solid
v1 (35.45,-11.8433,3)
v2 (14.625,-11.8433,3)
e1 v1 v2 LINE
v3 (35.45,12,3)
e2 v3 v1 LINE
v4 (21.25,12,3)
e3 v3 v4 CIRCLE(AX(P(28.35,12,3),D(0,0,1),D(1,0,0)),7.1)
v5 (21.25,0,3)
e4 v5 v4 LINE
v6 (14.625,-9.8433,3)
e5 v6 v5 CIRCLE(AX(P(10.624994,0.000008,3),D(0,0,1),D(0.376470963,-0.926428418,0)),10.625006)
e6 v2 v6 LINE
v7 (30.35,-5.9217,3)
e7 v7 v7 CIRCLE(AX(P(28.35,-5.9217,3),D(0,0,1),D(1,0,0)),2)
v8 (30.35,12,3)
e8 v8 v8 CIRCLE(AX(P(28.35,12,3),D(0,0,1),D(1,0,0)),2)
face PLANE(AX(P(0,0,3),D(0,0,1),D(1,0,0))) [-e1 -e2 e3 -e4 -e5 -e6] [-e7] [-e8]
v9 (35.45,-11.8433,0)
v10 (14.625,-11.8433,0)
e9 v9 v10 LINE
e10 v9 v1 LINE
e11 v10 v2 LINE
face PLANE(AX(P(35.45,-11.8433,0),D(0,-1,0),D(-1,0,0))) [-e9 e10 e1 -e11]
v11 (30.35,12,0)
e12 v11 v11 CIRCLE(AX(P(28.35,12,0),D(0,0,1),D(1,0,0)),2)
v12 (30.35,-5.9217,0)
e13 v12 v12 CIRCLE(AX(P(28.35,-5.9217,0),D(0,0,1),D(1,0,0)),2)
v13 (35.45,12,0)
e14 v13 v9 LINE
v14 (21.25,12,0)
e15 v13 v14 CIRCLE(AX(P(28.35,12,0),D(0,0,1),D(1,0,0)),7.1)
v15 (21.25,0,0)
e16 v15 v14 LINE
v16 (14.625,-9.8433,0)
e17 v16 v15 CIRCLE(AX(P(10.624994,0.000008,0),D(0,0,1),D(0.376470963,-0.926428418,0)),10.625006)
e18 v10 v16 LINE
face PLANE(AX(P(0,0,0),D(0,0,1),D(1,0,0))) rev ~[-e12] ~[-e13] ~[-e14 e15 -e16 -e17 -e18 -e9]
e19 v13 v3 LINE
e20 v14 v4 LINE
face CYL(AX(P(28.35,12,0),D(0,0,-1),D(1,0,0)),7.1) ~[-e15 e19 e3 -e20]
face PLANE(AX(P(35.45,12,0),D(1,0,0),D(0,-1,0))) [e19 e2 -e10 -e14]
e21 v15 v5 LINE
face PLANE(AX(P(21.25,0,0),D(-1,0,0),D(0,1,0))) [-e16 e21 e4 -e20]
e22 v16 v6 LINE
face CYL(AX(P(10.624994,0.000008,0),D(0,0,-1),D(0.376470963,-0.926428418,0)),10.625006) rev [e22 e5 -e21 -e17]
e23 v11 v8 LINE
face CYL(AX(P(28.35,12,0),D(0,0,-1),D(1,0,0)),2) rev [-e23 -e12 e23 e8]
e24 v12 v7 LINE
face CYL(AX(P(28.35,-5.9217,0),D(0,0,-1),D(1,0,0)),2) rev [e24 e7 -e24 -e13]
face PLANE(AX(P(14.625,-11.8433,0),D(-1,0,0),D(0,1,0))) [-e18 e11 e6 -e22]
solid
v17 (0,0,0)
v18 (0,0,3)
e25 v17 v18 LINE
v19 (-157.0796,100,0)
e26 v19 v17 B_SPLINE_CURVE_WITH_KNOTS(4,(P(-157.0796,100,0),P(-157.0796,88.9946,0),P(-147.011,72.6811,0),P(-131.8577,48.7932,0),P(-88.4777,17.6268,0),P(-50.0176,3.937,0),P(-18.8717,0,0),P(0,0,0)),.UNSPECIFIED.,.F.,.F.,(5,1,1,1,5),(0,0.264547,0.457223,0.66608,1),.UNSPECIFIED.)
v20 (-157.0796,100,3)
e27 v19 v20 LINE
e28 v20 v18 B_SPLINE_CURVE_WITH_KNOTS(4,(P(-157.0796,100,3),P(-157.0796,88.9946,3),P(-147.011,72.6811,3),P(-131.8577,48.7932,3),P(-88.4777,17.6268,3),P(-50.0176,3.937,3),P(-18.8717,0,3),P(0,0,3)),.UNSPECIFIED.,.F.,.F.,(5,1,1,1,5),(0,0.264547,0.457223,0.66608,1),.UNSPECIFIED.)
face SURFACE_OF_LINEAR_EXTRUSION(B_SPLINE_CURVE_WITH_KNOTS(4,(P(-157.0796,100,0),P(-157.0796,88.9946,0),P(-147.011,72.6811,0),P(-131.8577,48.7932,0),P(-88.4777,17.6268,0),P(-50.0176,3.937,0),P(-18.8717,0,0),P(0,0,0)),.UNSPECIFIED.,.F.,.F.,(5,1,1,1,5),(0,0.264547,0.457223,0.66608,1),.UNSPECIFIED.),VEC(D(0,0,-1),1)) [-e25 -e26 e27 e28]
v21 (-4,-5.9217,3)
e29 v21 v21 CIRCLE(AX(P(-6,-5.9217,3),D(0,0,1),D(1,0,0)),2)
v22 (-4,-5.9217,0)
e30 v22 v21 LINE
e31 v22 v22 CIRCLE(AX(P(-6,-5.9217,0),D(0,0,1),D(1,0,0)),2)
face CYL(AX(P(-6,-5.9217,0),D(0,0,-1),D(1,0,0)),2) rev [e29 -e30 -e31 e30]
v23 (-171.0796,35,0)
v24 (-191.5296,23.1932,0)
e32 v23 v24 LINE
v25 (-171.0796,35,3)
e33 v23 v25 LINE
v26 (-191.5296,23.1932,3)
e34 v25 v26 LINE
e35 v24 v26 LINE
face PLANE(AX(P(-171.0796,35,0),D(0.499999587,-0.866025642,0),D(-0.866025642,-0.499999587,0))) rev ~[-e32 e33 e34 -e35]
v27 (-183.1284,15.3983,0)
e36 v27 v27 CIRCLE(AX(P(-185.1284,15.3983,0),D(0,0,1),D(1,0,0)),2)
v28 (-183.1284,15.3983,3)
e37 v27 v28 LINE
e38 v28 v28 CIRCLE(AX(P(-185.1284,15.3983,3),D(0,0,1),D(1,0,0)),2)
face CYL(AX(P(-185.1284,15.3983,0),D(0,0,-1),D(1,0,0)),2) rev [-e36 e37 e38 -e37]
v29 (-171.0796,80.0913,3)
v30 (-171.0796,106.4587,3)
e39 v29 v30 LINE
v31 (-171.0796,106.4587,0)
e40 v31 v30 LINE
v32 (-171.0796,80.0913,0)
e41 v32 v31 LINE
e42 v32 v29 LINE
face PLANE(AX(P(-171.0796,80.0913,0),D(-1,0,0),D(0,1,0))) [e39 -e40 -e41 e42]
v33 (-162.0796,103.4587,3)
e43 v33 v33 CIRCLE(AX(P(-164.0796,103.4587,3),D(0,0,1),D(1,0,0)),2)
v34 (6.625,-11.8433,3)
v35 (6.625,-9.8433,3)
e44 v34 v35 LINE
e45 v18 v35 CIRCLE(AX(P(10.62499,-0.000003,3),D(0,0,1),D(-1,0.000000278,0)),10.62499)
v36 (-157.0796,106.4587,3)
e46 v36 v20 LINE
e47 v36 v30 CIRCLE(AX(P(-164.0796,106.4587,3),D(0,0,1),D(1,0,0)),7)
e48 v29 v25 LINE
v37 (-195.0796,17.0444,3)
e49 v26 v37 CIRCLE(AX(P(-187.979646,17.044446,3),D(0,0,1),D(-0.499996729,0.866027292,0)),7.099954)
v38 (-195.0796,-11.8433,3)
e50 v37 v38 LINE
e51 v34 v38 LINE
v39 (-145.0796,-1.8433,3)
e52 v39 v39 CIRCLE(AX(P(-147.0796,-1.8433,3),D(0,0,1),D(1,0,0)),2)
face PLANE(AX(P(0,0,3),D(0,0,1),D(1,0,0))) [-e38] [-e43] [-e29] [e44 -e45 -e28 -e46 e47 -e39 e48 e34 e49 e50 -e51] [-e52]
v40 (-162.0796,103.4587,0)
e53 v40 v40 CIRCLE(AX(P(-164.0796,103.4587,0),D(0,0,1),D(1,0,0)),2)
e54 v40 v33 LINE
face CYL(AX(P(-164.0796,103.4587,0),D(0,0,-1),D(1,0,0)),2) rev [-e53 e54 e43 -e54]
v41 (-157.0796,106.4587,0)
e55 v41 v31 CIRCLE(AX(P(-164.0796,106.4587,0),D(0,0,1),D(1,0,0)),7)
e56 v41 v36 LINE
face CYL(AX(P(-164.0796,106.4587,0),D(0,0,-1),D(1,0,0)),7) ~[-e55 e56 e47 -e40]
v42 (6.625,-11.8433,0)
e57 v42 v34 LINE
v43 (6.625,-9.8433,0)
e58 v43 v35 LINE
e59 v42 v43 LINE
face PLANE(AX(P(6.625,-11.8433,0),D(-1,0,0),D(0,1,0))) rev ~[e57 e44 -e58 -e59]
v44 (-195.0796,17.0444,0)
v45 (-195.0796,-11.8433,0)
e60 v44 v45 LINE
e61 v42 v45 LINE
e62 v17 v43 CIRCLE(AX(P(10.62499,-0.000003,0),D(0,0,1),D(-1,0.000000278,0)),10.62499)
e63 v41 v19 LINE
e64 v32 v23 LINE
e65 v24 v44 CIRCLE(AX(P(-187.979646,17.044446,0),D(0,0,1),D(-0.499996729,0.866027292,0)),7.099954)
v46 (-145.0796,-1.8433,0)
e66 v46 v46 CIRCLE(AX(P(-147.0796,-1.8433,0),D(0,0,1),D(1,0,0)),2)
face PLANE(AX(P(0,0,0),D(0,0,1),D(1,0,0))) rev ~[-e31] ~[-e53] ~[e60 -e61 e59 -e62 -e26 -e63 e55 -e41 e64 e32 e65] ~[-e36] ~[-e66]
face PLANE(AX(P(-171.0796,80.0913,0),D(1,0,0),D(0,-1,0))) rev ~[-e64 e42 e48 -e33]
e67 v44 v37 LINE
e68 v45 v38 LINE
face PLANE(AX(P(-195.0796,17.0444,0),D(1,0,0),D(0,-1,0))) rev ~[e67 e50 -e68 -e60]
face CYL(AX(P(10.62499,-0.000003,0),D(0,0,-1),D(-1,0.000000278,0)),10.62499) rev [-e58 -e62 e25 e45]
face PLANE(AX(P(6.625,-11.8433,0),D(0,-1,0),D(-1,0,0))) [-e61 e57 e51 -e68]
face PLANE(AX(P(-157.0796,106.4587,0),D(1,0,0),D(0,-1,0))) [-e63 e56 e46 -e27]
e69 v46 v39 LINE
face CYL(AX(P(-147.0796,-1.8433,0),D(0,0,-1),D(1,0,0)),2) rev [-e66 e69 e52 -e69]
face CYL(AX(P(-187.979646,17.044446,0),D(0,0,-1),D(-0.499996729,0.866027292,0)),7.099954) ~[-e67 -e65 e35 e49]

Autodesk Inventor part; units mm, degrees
ref_plane "YZ Plane" through (0, 0, 0) normal (1, 0, 0) x (0, 1, 0)
ref_plane "XZ Plane" through (0, 0, 0) normal (0, 1, 0) x (-1, 0, 0)
ref_plane "XY Plane" through (0, 0, 0) normal (0, 0, 1) x (1, 0, 0)
sketch "Sketch3" plane through (0, 0, 0) normal (0, 0, 1) x (1, 0, 0)
  circle A0 centre (367.816, 50) radius 50 construction
  line L0 (367.816, 0) -> (512.7041, 0) construction
  line L1 (367.816, 50) -> (512.7041, 50) construction
  line L2 (367.816, 100) -> (512.7041, 100) construction
  line L3 (367.816, 50) -> (342.816, 6.6987) construction
  line L4 (367.816, 50) -> (324.5147, 25) construction
  line L5 (367.816, 50) -> (324.5147, 75) construction
  line L6 (342.816, 93.3013) -> (367.816, 50) construction
  line L7 (392.816, 93.3013) -> (367.816, 50) construction
  line L8 (411.1173, 75) -> (367.816, 50) construction
  line L9 (411.1173, 25) -> (367.816, 50) construction
  line L10 (392.816, 6.6987) -> (367.816, 50) construction
  line L11 (367.816, 0) -> (367.816, 100) construction
  line L12 (417.816, 50) -> (367.816, 50) construction
  line L13 (341.6361, 0) -> (341.6361, 100) construction
  line L14 (315.4561, 0) -> (315.4561, 100) construction
  line L15 (289.2762, 0) -> (289.2762, 100) construction
  line L16 (263.0963, 0) -> (263.0963, 100) construction
  line L17 (236.9163, 0) -> (236.9163, 100) construction
  line L18 (210.7364, 0) -> (210.7364, 100) construction
  line L19 (184.5564, 0) -> (184.5564, 100) construction
  line L20 (158.3765, 0) -> (158.3765, 100) construction
  circle A1 centre (315.4561, 50) radius 50 construction
  circle A2 centre (341.6361, 50) radius 50 construction
  circle A3 centre (289.2762, 50) radius 50 construction
  circle A4 centre (263.0963, 50) radius 50 construction
  circle A5 centre (236.9163, 50) radius 50 construction
  circle A6 centre (210.7364, 50) radius 50 construction
  line L21 (392.816, 6.6987) -> (512.7041, 6.6987) construction
  line L22 (411.1173, 25) -> (512.7041, 25) construction
  line L23 (411.1173, 75) -> (512.7041, 75) construction
  line L24 (411.1173, 75) -> (512.7041, 75) construction
  line L25 (392.816, 93.3013) -> (512.7041, 93.3013) construction
  line L26 (358.7574, 75) -> (339.2762, 50) construction
  line L27 (339.2762, 50) -> (306.3975, 25) construction
  line L28 (306.3975, 25) -> (261.9163, 6.6987) construction
  line L29 (261.9163, 6.6987) -> (210.7364, 0) construction
  line L30 (105.3682, -12.9392) -> (105.3682, 124.4333) construction
  line L31 (21.25, 0) -> (21.25, 12)
  line L32 (35.45, 12) -> (35.45, -11.8433)
  arc A7 (0, 0) -> (6.625, -9.8433) centre (10.625, 0) ccw
  arc A8 (14.625, -9.8433) -> (21.25, 0) centre (10.625, 0) ccw
  line L33 (35.45, -11.8433) -> (14.625, -11.8433)
  line L34 (6.625, -11.8433) -> (-195.0796, -11.8433)
  circle A9 centre (-144.26, 100.8473) radius 12.875 construction
  line L35 (6.625, -11.8433) -> (6.625, -9.8433)
  line L36 (14.625, -11.8433) -> (14.625, -9.8433)
  line L37 (411.1173, 75) -> (158.3765, 75) construction
  line L38 (367.816, 100) -> (158.3765, 100) construction
  line L39 (417.816, 50) -> (158.3765, 50) construction
  line L40 (411.1173, 25) -> (158.3765, 25) construction
  line L41 (392.816, 6.6987) -> (158.3765, 6.6987) construction
  line L42 (392.816, 93.3013) -> (158.3765, 93.3013) construction
  line L43 (358.7574, 75) -> (366.6361, 93.3013) construction
  line L44 (366.6361, 93.3013) -> (367.816, 100) construction
  spline S0 degree 4 poles (-157.0796, 100) (-157.0796, 88.9946) (-147.011, 72.6811) (-131.8577, 48.7932) (-88.4777, 17.6268) (-50.0176, 3.937) (-18.8717, 0) (0, 0) knots 0 0 0 0 0 0.264547 0.457223 0.66608 1 1 1 1 1
  line L45 (-157.0796, 100) -> (-157.0796, 38) construction
  line L46 (0, 0) -> (-157.0796, 0) construction
  line L47 (-144.26, 100.8473) -> (-157.135, 100.8473) construction
  circle A10 centre (-146.4546, 100) radius 10.625 construction
  line L48 (-146.4546, 100) -> (-157.0796, 100) construction
  line L49 (-141.0754, 84.4005) -> (-135.6205, 93.5183) construction
  line L50 (-141.0796, 132.0528) -> (-171.0796, 149.3733) construction
  line L51 (-171.0796, 149.3733) -> (-201.0796, 132.0528) construction
  line L52 (-141.0754, 84.4005) -> (-99.2801, 84.4005) construction
  line L53 (-201.0796, 132.0528) -> (-201.0796, 97.4118) construction
  line L54 (-201.0796, 97.4118) -> (-171.0796, 80.0913) construction
  line L55 (0, 0) -> (-157.0796, 93.9753) construction
  line L56 (-135.6205, 93.5183) -> (-137.3368, 94.5451) construction
  line L57 (-137.3368, 94.5451) -> (-143.2815, 84.6085) construction
  line L58 (-137.3368, 94.5451) -> (-171.0796, 114.7323) construction
  line L59 (-201.0796, 132.0528) -> (-171.0796, 114.7323) construction
  arc A11 (-137.3368, 94.5451) -> (-144.7045, 143.8948) centre (-171.0796, 114.7323) ccw construction
  arc A12 (-142.7917, 85.4273) -> (-147.1443, 147.6882) centre (-171.0796, 114.7323) ccw construction
  line L60 (-171.0796, 80.0913) -> (-171.0796, 35)
  circle A13 centre (-171.0796, 114.7323) radius 2.5 construction
  arc A14 (-167.4345, 120.8251) -> (-174.7248, 108.6394) centre (-171.0796, 114.7323) ccw construction
  line L61 (-167.4345, 120.8251) -> (-157.0796, 114.6302) construction
  line L62 (-171.0796, 80.0913) -> (-171.0796, 106.4587)
  line L63 (-171.0796, 106.4587) -> (-174.7248, 108.6394) construction
  line L64 (-171.0796, 35) -> (-191.5296, 23.1932)
  arc A15 (-191.5296, 23.1932) -> (-195.0796, 17.0444) centre (-187.9796, 17.0444) ccw
  line L65 (-195.0796, 17.0444) -> (-195.0796, -11.8433)
  arc A16 (35.45, 12) -> (21.25, 12) centre (28.35, 12) ccw
  line L66 (-157.0796, 114.6302) -> (-157.0796, 99.9865) construction
  circle A17 centre (-164.0796, 103.4587) radius 2
  line L67 (-171.0796, 103.4587) -> (-157.0796, 103.4587) construction
  circle A18 centre (-185.1284, 15.3983) radius 2
  line L68 (-185.1284, 15.3983) -> (-194.1284, 20.5944) construction
  circle A19 centre (-6, -5.9217) radius 2
  line L69 (-6, -11.8433) -> (-6, 0) construction
  circle A20 centre (28.35, 12) radius 2
  circle A21 centre (28.35, -5.9217) radius 2
  line L70 (-167.4345, 320.8251) -> (-157.0796, 314.6302) construction
  arc A22 (-167.4345, 320.8251) -> (-174.7248, 308.6394) centre (-171.0796, 314.7323) ccw construction
  circle A23 centre (-171.0796, 314.7323) radius 2.5 construction
  line L71 (-171.0796, 280.0913) -> (-171.0796, 306.4587)
  line L72 (-171.0796, 306.4587) -> (-174.7248, 308.6394) construction
  line L73 (-157.0796, 314.6302) -> (-157.0796, 299.9865) construction
  circle A24 centre (-164.0796, 303.4587) radius 2
  spline S1 degree 4 poles (-157.0796, 300) (-157.0796, 288.9946) (-147.0234, 272.6841) (-124.1789, 236.7977) (-70.8039, 208.0704) (-31.8865, 200.2943) (0, 200) knots 0 0 0 0 0 0.264547 0.457223 1 1 1 1 1 construction
  line L74 (-157.0796, 300) -> (-157.0796, 238) construction
  arc A25 (0, 200) -> (6.625, 190.1567) centre (10.625, 200) ccw
  line L75 (35.45, 212) -> (35.45, 188.1567)
  circle A26 centre (28.35, 212) radius 2
  circle A27 centre (28.35, 194.0783) radius 2
  arc A28 (35.45, 212) -> (21.25, 212) centre (28.35, 212) ccw
  line L76 (21.25, 200) -> (21.25, 212)
  line L77 (35.45, 188.1567) -> (14.625, 188.1567)
  arc A29 (14.625, 190.1567) -> (21.25, 200) centre (10.625, 200) ccw
  line L78 (14.625, 188.1567) -> (14.625, 190.1567)
  line L79 (-185.1284, 215.3983) -> (-194.1284, 220.5944) construction
  arc A30 (-191.5296, 223.1932) -> (-195.0796, 217.0444) centre (-187.9796, 217.0444) ccw
  line L80 (-195.0796, 217.0444) -> (-195.0796, 188.1567)
  line L81 (-171.0796, 235) -> (-191.5296, 223.1932)
  circle A31 centre (-185.1284, 215.3983) radius 2
  line L82 (-171.0796, 280.0913) -> (-171.0796, 235)
  line L83 (6.625, 188.1567) -> (-195.0796, 188.1567)
  line L84 (6.625, 188.1567) -> (6.625, 190.1567)
  line L85 (-137.3368, 294.5451) -> (-143.2815, 284.6085) construction
  line L86 (-141.0754, 284.4005) -> (-135.6205, 293.5183) construction
  line L87 (0, 200) -> (-157.0796, 293.9753)
  line L88 (-167.4345, 520.8251) -> (-157.0796, 514.6302) construction
  arc A32 (-167.4345, 520.8251) -> (-174.7248, 508.6394) centre (-171.0796, 514.7323) ccw construction
  circle A33 centre (-171.0796, 514.7323) radius 2.5 construction
  line L89 (-171.0796, 480.0913) -> (-171.0796, 506.4587)
  line L90 (-171.0796, 506.4587) -> (-174.7248, 508.6394) construction
  line L91 (-157.0796, 514.6302) -> (-157.0796, 499.9865) construction
  circle A34 centre (-164.0796, 503.4587) radius 2
  spline S2 degree 4 poles (-157.0796, 500) (-157.0796, 488.9946) (-147.0234, 472.6841) (-124.1789, 436.7977) (-70.8039, 408.0704) (-31.8865, 400.2943) (0, 400) knots 0 0 0 0 0 0.264547 0.457223 1 1 1 1 1 construction
  line L92 (-157.0796, 500) -> (-157.0796, 438)
  arc A35 (0, 400) -> (6.625, 390.1567) centre (10.625, 400) ccw
  line L93 (35.45, 412) -> (35.45, 388.1567)
  circle A36 centre (28.35, 412) radius 2
  circle A37 centre (28.35, 394.0783) radius 2
  arc A38 (35.45, 412) -> (21.25, 412) centre (28.35, 412) ccw
  line L94 (21.25, 400) -> (21.25, 412)
  line L95 (35.45, 388.1567) -> (14.625, 388.1567)
  arc A39 (14.625, 390.1567) -> (21.25, 400) centre (10.625, 400) ccw
  line L96 (14.625, 388.1567) -> (14.625, 390.1567)
  line L97 (-185.1284, 415.3983) -> (-194.1284, 420.5944) construction
  arc A40 (-191.5296, 423.1932) -> (-195.0796, 417.0444) centre (-187.9796, 417.0444) ccw
  line L98 (-195.0796, 417.0444) -> (-195.0796, 388.1567)
  line L99 (-171.0796, 435) -> (-191.5296, 423.1932)
  circle A41 centre (-185.1284, 415.3983) radius 2
  line L100 (-171.0796, 480.0913) -> (-171.0796, 435)
  line L101 (6.625, 388.1567) -> (-195.0796, 388.1567)
  line L102 (6.625, 388.1567) -> (6.625, 390.1567)
  line L103 (-137.3368, 494.5451) -> (-143.2815, 484.6085) construction
  line L104 (-141.0754, 484.4005) -> (-135.6205, 493.5183) construction
  line L105 (0, 400) -> (-157.0796, 493.9753) construction
  line L106 (-467.4345, 120.8251) -> (-457.0796, 114.6302) construction
  arc A42 (-467.4345, 120.8251) -> (-474.7248, 108.6394) centre (-471.0796, 114.7323) ccw construction
  circle A43 centre (-471.0796, 114.7323) radius 2.5 construction
  line L107 (-471.0796, 80.0913) -> (-471.0796, 106.4587)
  line L108 (-471.0796, 106.4587) -> (-474.7248, 108.6394) construction
  line L109 (-457.0796, 114.6302) -> (-457.0796, 99.9865) construction
  circle A44 centre (-464.0796, 103.4587) radius 2
  spline S3 degree 4 poles (-457.0796, 100) (-457.0796, 88.9946) (-447.0234, 72.6841) (-424.1789, 36.7977) (-370.8039, 8.0704) (-331.8865, 0.2943) (-300, 0) knots 0 0 0 0 0 0.264547 0.457223 1 1 1 1 1 construction
  line L110 (-457.0796, 100) -> (-457.0796, 38) construction
  arc A45 (-300, 0) -> (-293.375, -9.8433) centre (-289.375, 0) ccw construction
  line L111 (-264.55, 12) -> (-264.55, -11.8433)
  circle A46 centre (-271.65, 12) radius 2
  circle A47 centre (-271.65, -5.9217) radius 2
  arc A48 (-264.55, 12) -> (-278.75, 12) centre (-271.65, 12) ccw
  line L112 (-278.75, 0) -> (-278.75, 12) construction
  line L113 (-264.55, -11.8433) -> (-285.375, -11.8433)
  arc A49 (-285.375, -9.8433) -> (-278.75, 0) centre (-289.375, 0) ccw construction
  line L114 (-285.375, -11.8433) -> (-285.375, -9.8433) construction
  line L115 (-485.1284, 15.3983) -> (-494.1284, 20.5944) construction
  arc A50 (-491.5296, 23.1932) -> (-495.0796, 17.0444) centre (-487.9796, 17.0444) ccw
  line L116 (-495.0796, 17.0444) -> (-495.0796, -11.8433)
  line L117 (-471.0796, 35) -> (-491.5296, 23.1932)
  circle A51 centre (-485.1284, 15.3983) radius 2
  line L118 (-471.0796, 80.0913) -> (-471.0796, 35)
  line L119 (-293.375, -11.8433) -> (-495.0796, -11.8433)
  line L120 (-293.375, -11.8433) -> (-293.375, -9.8433) construction
  line L121 (-437.3368, 94.5451) -> (-443.2815, 84.6085) construction
  line L122 (-441.0754, 84.4005) -> (-435.6205, 93.5183) construction
  line L123 (-300, 0) -> (-457.0796, 93.9753) construction
  line L124 (-467.4345, 320.8251) -> (-457.0796, 314.6302) construction
  arc A52 (-467.4345, 320.8251) -> (-474.7248, 308.6394) centre (-471.0796, 314.7323) ccw construction
  circle A53 centre (-471.0796, 314.7323) radius 2.5 construction
  line L125 (-471.0796, 280.0913) -> (-471.0796, 306.4587)
  line L126 (-471.0796, 306.4587) -> (-474.7248, 308.6394) construction
  line L127 (-457.0796, 314.6302) -> (-457.0796, 299.9865) construction
  circle A54 centre (-464.0796, 303.4587) radius 2
  spline S4 degree 4 poles (-457.0796, 300) (-457.0796, 288.9946) (-447.0234, 272.6841) (-424.1789, 236.7977) (-370.8039, 208.0704) (-331.8865, 200.2943) (-300, 200) knots 0 0 0 0 0 0.264547 0.457223 1 1 1 1 1 construction
  line L128 (-457.0796, 300) -> (-457.0796, 238) construction
  arc A55 (-300, 200) -> (-293.375, 190.1567) centre (-289.375, 200) ccw construction
  line L129 (-264.55, 212) -> (-264.55, 188.1567)
  circle A56 centre (-271.65, 212) radius 2
  circle A57 centre (-271.65, 194.0783) radius 2
  arc A58 (-264.55, 212) -> (-278.75, 212) centre (-271.65, 212) ccw
  line L130 (-278.75, 200) -> (-278.75, 212) construction
  line L131 (-264.55, 188.1567) -> (-285.375, 188.1567)
  arc A59 (-285.375, 190.1567) -> (-278.75, 200) centre (-289.375, 200) ccw construction
  line L132 (-285.375, 188.1567) -> (-285.375, 190.1567) construction
  line L133 (-485.1284, 215.3983) -> (-494.1284, 220.5944) construction
  arc A60 (-491.5296, 223.1932) -> (-495.0796, 217.0444) centre (-487.9796, 217.0444) ccw
  line L134 (-495.0796, 217.0444) -> (-495.0796, 188.1567)
  line L135 (-471.0796, 235) -> (-491.5296, 223.1932)
  circle A61 centre (-485.1284, 215.3983) radius 2
  line L136 (-471.0796, 280.0913) -> (-471.0796, 235)
  line L137 (-293.375, 188.1567) -> (-495.0796, 188.1567)
  line L138 (-293.375, 188.1567) -> (-293.375, 190.1567) construction
  line L139 (-437.3368, 294.5451) -> (-443.2815, 284.6085) construction
  line L140 (-441.0754, 284.4005) -> (-435.6205, 293.5183) construction
  line L141 (-300, 200) -> (-457.0796, 293.9753) construction
  line L142 (-467.4345, 520.8251) -> (-457.0796, 514.6302)
  arc A62 (-467.4345, 520.8251) -> (-474.7248, 508.6394) centre (-471.0796, 514.7323) ccw
  circle A63 centre (-471.0796, 514.7323) radius 2.5
  line L143 (-471.0796, 480.0913) -> (-471.0796, 506.4587)
  line L144 (-471.0796, 506.4587) -> (-474.7248, 508.6394)
  line L145 (-457.0796, 514.6302) -> (-457.0796, 499.9865)
  circle A64 centre (-464.0796, 503.4587) radius 2
  spline S5 degree 4 poles (-457.0796, 500) (-457.0796, 488.9946) (-447.0234, 472.6841) (-424.1789, 436.7977) (-370.8039, 408.0704) (-331.8865, 400.2943) (-300, 400) knots 0 0 0 0 0 0.264547 0.457223 1 1 1 1 1 construction
  line L146 (-457.0796, 500) -> (-457.0796, 438) construction
  arc A65 (-300, 400) -> (-293.375, 390.1567) centre (-289.375, 400) ccw construction
  line L147 (-264.55, 412) -> (-264.55, 388.1567) construction
  circle A66 centre (-271.65, 412) radius 2
  circle A67 centre (-271.65, 394.0783) radius 2
  arc A68 (-264.55, 412) -> (-278.75, 412) centre (-271.65, 412) ccw
  line L148 (-278.75, 400) -> (-278.75, 412) construction
  line L149 (-264.55, 388.1567) -> (-285.375, 388.1567)
  arc A69 (-285.375, 390.1567) -> (-278.75, 400) centre (-289.375, 400) ccw construction
  line L150 (-285.375, 388.1567) -> (-285.375, 390.1567) construction
  line L151 (-485.1284, 415.3983) -> (-494.1284, 420.5944) construction
  arc A70 (-491.5296, 423.1932) -> (-495.0796, 417.0444) centre (-487.9796, 417.0444) ccw
  line L152 (-495.0796, 417.0444) -> (-495.0796, 388.1567) construction
  line L153 (-471.0796, 435) -> (-491.5296, 423.1932)
  circle A71 centre (-485.1284, 415.3983) radius 2
  line L154 (-471.0796, 480.0913) -> (-471.0796, 435)
  line L155 (-293.375, 388.1567) -> (-495.0796, 388.1567)
  line L156 (-293.375, 388.1567) -> (-293.375, 390.1567) construction
  line L157 (-437.3368, 494.5451) -> (-443.2815, 484.6085) construction
  line L158 (-441.0754, 484.4005) -> (-435.6205, 493.5183) construction
  line L159 (-300, 400) -> (-457.0796, 493.9753) construction
  line L160 (-435.4304, 87.048) -> (-430.3073, 83.9831)
  line L161 (-430.3073, 83.9831) -> (-430.3073, 78.0131)
  line L162 (-457.0796, 100) -> (-443.128, 91.6532)
  line L163 (-443.2208, 85.684) -> (-443.128, 91.6532)
  line L164 (-440.6463, 84.1438) -> (-435.4304, 87.048)
  line L165 (-440.6463, 84.1438) -> (-443.2208, 85.684)
  line L166 (-430.3073, 78.0131) -> (-436.0283, 74.7101)
  line L167 (-436.0283, 74.7101) -> (-436.0283, 68.1041)
  spline S6 degree 4 poles (-439.3753, 72.7777) (-420.1522, 45.3403) (-398.6357, 22.4496) (-337.1208, 4.2654) (-300, 5.1701) knots 0 0 0 0 0 1 1 1 1 1
  line L168 (-293.375, -11.8433) -> (-285.375, -11.8433)
  line L169 (-157.0796, 293.9753) -> (-157.0796, 300)
  line L170 (-293.375, 188.1567) -> (-285.375, 188.1567)
  arc A72 (-157.0796, 438) -> (-119.0796, 400) centre (-119.0796, 438) ccw
  line L171 (-119.0796, 400) -> (0, 400)
  line L172 (-457.0796, 500) -> (-457.0796, 438) construction
  line L173 (-419.0796, 400) -> (-300, 400) construction
  arc A73 (-457.0796, 438) -> (-419.0796, 400) centre (-419.0796, 438) ccw construction
  line L174 (-457.0796, 300) -> (-443.128, 291.6532)
  line L175 (-443.2208, 285.684) -> (-443.128, 291.6532)
  line L176 (-440.6463, 284.1438) -> (-443.2208, 285.684)
  line L177 (-440.6463, 284.1438) -> (-435.4304, 287.048)
  line L178 (-435.4304, 287.048) -> (-430.3073, 283.9831)
  line L179 (-430.3073, 283.9831) -> (-430.3073, 278.0131) construction
  line L180 (-430.3073, 278.0131) -> (-436.0283, 274.7101) construction
  line L181 (-457.0796, 500) -> (-443.128, 491.6532)
  line L182 (-443.2208, 485.684) -> (-443.128, 491.6532)
  line L183 (-440.6463, 484.1438) -> (-443.2208, 485.684)
  line L184 (-440.6463, 484.1438) -> (-435.4304, 487.048)
  line L185 (-435.4304, 487.048) -> (-430.3073, 483.9831)
  line L186 (-430.3073, 483.9831) -> (-430.3073, 478.0131)
  line L187 (-430.3073, 478.0131) -> (-436.0283, 474.7101)
  line L188 (-430.3073, 283.9831) -> (-298.5715, 205.1701)
  line L189 (-293.375, 388.1567) -> (-285.375, 388.1567)
  line L190 (-300, 5.1701) -> (-285.5799, 5.1701)
  arc A74 (-285.5799, 5.1701) -> (-278.75, 12) centre (-285.5799, 12) ccw
  line L191 (-298.5715, 205.1701) -> (-285.5799, 205.1701)
  arc A75 (-285.5799, 205.1701) -> (-278.75, 212) centre (-285.5799, 212) ccw
  line L192 (-436.0283, 474.7101) -> (-451.9095, 465.5411)
  line L193 (-451.9095, 465.5411) -> (-451.9095, 438)
  arc A76 (-451.9095, 438) -> (-419.0796, 405.1701) centre (-419.0796, 438) ccw
  line L194 (-419.0796, 405.1701) -> (-285.5799, 405.1701)
  arc A77 (-285.5799, 405.1701) -> (-278.75, 412) centre (-285.5799, 412) ccw
  line L195 (-495.0796, 388.1567) -> (-514.2796, 388.1567)
  line L196 (-514.2796, 388.1567) -> (-514.2796, 392.1567)
  line L197 (-514.2796, 392.1567) -> (-498.0796, 392.1567)
  arc A78 (-498.0796, 392.1567) -> (-495.0796, 395.1567) centre (-498.0796, 395.1567) ccw
  line L198 (-495.0796, 395.1567) -> (-495.0796, 417.0444)
  line L199 (-499.0796, 388.1567) -> (-510.2796, 388.1567) construction
  line L200 (-510.2796, 388.1567) -> (-510.2796, 392.1567) construction
  line L201 (-510.2796, 392.1567) -> (-499.0796, 392.1567) construction
  line L202 (-499.0796, 392.1567) -> (-499.0796, 388.1567) construction
  line L203 (-499.0796, 388.1567) -> (-510.2796, 392.1567) construction
  line L204 (-510.2796, 388.1567) -> (-499.0796, 392.1567) construction
  arc A79 (-600, 200) -> (-593.375, 190.1567) centre (-589.375, 200) ccw construction
  line L205 (-564.55, 212) -> (-564.55, 188.1567) construction
  circle A80 centre (-571.65, 212) radius 2
  circle A81 centre (-571.65, 194.0783) radius 2
  arc A82 (-564.55, 212) -> (-578.75, 212) centre (-571.65, 212) ccw
  line L206 (-578.75, 200) -> (-578.75, 212) construction
  line L207 (-564.55, 188.1567) -> (-585.375, 188.1567)
  arc A83 (-585.375, 190.1567) -> (-578.75, 200) centre (-589.375, 200) ccw construction
  line L208 (-585.375, 188.1567) -> (-585.375, 190.1567) construction
  line L209 (-593.375, 188.1567) -> (-593.375, 190.1567) construction
  arc A84 (-585.5799, 205.1701) -> (-578.75, 212) centre (-585.5799, 212) ccw
  line L210 (-593.375, 188.1567) -> (-585.375, 188.1567)
  line L211 (-598.5715, 205.1701) -> (-585.5799, 205.1701)
  arc A85 (-791.5296, 223.1932) -> (-795.0796, 217.0444) centre (-787.9796, 217.0444) ccw
  line L212 (-785.1284, 215.3983) -> (-794.1284, 220.5944) construction
  circle A86 centre (-785.1284, 215.3983) radius 2
  line L213 (-771.0796, 235) -> (-791.5296, 223.1932)
  line L214 (-795.0796, 217.0444) -> (-795.0796, 188.1567) construction
  line L215 (-730.3073, 278.0131) -> (-736.0283, 274.7101) construction
  line L216 (-757.0796, 300) -> (-757.0796, 238) construction
  line L217 (-730.3073, 283.9831) -> (-730.3073, 278.0131) construction
  line L218 (-730.3073, 283.9831) -> (-598.5715, 205.1701)
  line L219 (-600, 200) -> (-757.0796, 293.9753) construction
  spline S7 degree 4 poles (-757.0796, 300) (-757.0796, 288.9946) (-747.0234, 272.6841) (-724.1789, 236.7977) (-670.8039, 208.0704) (-631.8865, 200.2943) (-600, 200) knots 0 0 0 0 0 0.264547 0.457223 1 1 1 1 1 construction
  line L220 (-593.375, 188.1567) -> (-795.0796, 188.1567)
  line L221 (-771.0796, 280.0913) -> (-771.0796, 235)
  line L222 (-757.0796, 300) -> (-743.128, 291.6532)
  line L223 (-743.2208, 285.684) -> (-743.128, 291.6532)
  line L224 (-740.6463, 284.1438) -> (-743.2208, 285.684)
  line L225 (-737.3368, 294.5451) -> (-743.2815, 284.6085) construction
  line L226 (-741.0754, 284.4005) -> (-735.6205, 293.5183) construction
  line L227 (-740.6463, 284.1438) -> (-735.4304, 287.048)
  line L228 (-735.4304, 287.048) -> (-730.3073, 283.9831)
  line L229 (-767.4345, 320.8251) -> (-757.0796, 314.6302)
  line L230 (-771.0796, 280.0913) -> (-771.0796, 306.4587)
  line L231 (-757.0796, 314.6302) -> (-757.0796, 299.9865)
  circle A87 centre (-764.0796, 303.4587) radius 2
  line L232 (-771.0796, 306.4587) -> (-774.7248, 308.6394)
  circle A88 centre (-771.0796, 314.7323) radius 2.5
  arc A89 (-767.4345, 320.8251) -> (-774.7248, 308.6394) centre (-771.0796, 314.7323) ccw
  line L233 (-795.0796, 188.1567) -> (-814.2796, 188.1567)
  line L234 (-814.2796, 188.1567) -> (-814.2796, 192.1567)
  line L235 (-814.2796, 192.1567) -> (-798.0796, 192.1567)
  arc A90 (-798.0796, 192.1567) -> (-795.0796, 195.1567) centre (-798.0796, 195.1567) ccw
  line L236 (-795.0796, 195.1567) -> (-795.0796, 217.0444)
  line L237 (-799.0796, 188.1567) -> (-810.2796, 188.1567) construction
  line L238 (-810.2796, 188.1567) -> (-810.2796, 192.1567) construction
  line L239 (-810.2796, 192.1567) -> (-799.0796, 192.1567) construction
  line L240 (-799.0796, 192.1567) -> (-799.0796, 188.1567) construction
  line L241 (-799.0796, 188.1567) -> (-810.2796, 192.1567) construction
  line L242 (-810.2796, 188.1567) -> (-799.0796, 192.1567) construction
  line L243 (-495.0796, 587.6927) -> (-264.55, 587.6927) construction
  line L244 (-379.8148, 587.6927) -> (-379.8148, 614.3146) construction
  line L245 (-795.0796, 438) -> (-564.55, 438) construction
  line L246 (-679.8148, 438) -> (-679.8148, 492.8294) construction
  arc A91 (-564.55, 195.1567) -> (-561.55, 192.1567) centre (-561.55, 195.1567) ccw
  line L247 (-545.35, 192.1567) -> (-561.55, 192.1567)
  line L248 (-545.35, 188.1567) -> (-545.35, 192.1567)
  line L249 (-560.55, 192.1567) -> (-560.55, 188.1567) construction
  line L250 (-560.55, 188.1567) -> (-549.35, 188.1567) construction
  line L251 (-564.55, 188.1567) -> (-545.35, 188.1567)
  line L252 (-549.35, 188.1567) -> (-549.35, 192.1567) construction
  line L253 (-549.35, 192.1567) -> (-560.55, 192.1567) construction
  line L254 (-560.55, 188.1567) -> (-549.35, 192.1567) construction
  line L255 (-549.35, 188.1567) -> (-560.55, 192.1567) construction
  line L256 (-564.55, 195.1567) -> (-564.55, 212)
  circle A92 centre (-147.0796, 398.1567) radius 2
  circle A93 centre (-147.0796, 198.1567) radius 2
  circle A94 centre (-147.0796, -1.8433) radius 2
  circle A95 centre (-447.0796, 398.1567) radius 2
  circle A96 centre (-447.0796, 198.1567) radius 2
  circle A97 centre (-447.0796, -1.8433) radius 2
  circle A98 centre (-747.0796, 398.1567) radius 2 construction
  circle A99 centre (-747.0796, 198.1567) radius 2
  circle A100 centre (-747.0796, -1.8433) radius 2 construction
  line L257 (-264.55, 388.1567) -> (-245.35, 388.1567)
  line L258 (-245.35, 388.1567) -> (-245.35, 392.1567)
  line L259 (-245.35, 392.1567) -> (-261.55, 392.1567)
  arc A101 (-264.55, 395.1567) -> (-261.55, 392.1567) centre (-261.55, 395.1567) ccw
  line L260 (-260.55, 388.1567) -> (-249.35, 388.1567) construction
  line L261 (-249.35, 388.1567) -> (-249.35, 392.1567) construction
  line L262 (-249.35, 392.1567) -> (-260.55, 392.1567) construction
  line L263 (-260.55, 392.1567) -> (-260.55, 388.1567) construction
  line L264 (-260.55, 388.1567) -> (-249.35, 392.1567) construction
  line L265 (-249.35, 388.1567) -> (-260.55, 392.1567) construction
  line L266 (-264.55, 412) -> (-264.55, 395.1567)
  arc A102 (-157.0796, 106.4587) -> (-171.0796, 106.4587) centre (-164.0796, 106.4587) ccw
  line L267 (-157.0796, 106.4587) -> (-157.0796, 100)
  arc A103 (-157.0796, 306.4587) -> (-171.0796, 306.4587) centre (-164.0796, 306.4587) ccw
  line L268 (-157.0796, 306.4587) -> (-157.0796, 300)
  arc A104 (-157.0796, 506.4587) -> (-171.0796, 506.4587) centre (-164.0796, 506.4587) ccw
  line L269 (-157.0796, 506.4587) -> (-157.0796, 500)
  arc A105 (-457.0796, 106.4587) -> (-471.0796, 106.4587) centre (-464.0796, 106.4587) ccw
  line L270 (-457.0796, 106.4587) -> (-457.0796, 100)
  arc A106 (-457.0796, 306.4587) -> (-471.0796, 306.4587) centre (-464.0796, 306.4587) ccw
  line L271 (-457.0796, 306.4587) -> (-457.0796, 300)
  arc A107 (-457.0796, 506.4587) -> (-471.0796, 506.4587) centre (-464.0796, 506.4587) ccw construction
  line L272 (-457.0796, 506.4587) -> (-457.0796, 500) construction
  point P0 (158.3765, 0)
  point P1 (-148.021, 75)
  point P2 (-128.5398, 50)
  point P3 (-95.6611, 25)
  point P4 (-51.1799, 6.6987)
  point P5 (-155.8997, 93.3013)
  point P6 (-148.021, 275)
  point P7 (-128.5398, 250)
  point P8 (-95.6611, 225)
  point P9 (-51.1799, 206.6987)
  point P10 (-157.0796, 303.4587)
  point P11 (-157.0796, 200)
  point P12 (-171.0796, 303.4587)
  point P13 (-6, 188.1567)
  point P14 (-142.7917, 285.4273)
  point P15 (-148.021, 475)
  point P16 (-128.5398, 450)
  point P17 (-95.6611, 425)
  point P18 (-51.1799, 406.6987)
  point P19 (-157.0796, 503.4587)
  point P20 (-157.0796, 400)
  point P21 (-171.0796, 503.4587)
  point P22 (-6, 388.1567)
  point P23 (-142.7917, 485.4273)
  point P24 (-448.021, 75)
  point P25 (-428.5398, 50)
  point P26 (-395.6611, 25)
  point P27 (-351.1799, 6.6987)
  point P28 (-457.0796, 103.4587)
  point P29 (-457.0796, 0)
  point P30 (-471.0796, 103.4587)
  point P31 (-306, -11.8433)
  point P32 (-442.7917, 85.4273)
  point P33 (-448.021, 275)
  point P34 (-428.5398, 250)
  point P35 (-395.6611, 225)
  point P36 (-351.1799, 206.6987)
  point P37 (-457.0796, 303.4587)
  point P38 (-457.0796, 200)
  point P39 (-471.0796, 303.4587)
  point P40 (-306, 188.1567)
  point P41 (-442.7917, 285.4273)
  point P42 (-448.021, 475)
  point P43 (-428.5398, 450)
  point P44 (-395.6611, 425)
  point P45 (-351.1799, 406.6987)
  point P46 (-457.0796, 503.4587)
  point P47 (-457.0796, 400)
  point P48 (-471.0796, 503.4587)
  point P49 (-306, 388.1567)
  point P50 (-442.7917, 485.4273)
  point P51 (-421.2258, 50.7726)
  point P52 (-392.6255, 29.6644)
  point P53 (-346.6709, 11.6004)
  point P54 (-436.0267, 68.102)
  point P55 (-457.0796, 503.4587)
  point P56 (-504.6796, 390.1567)
  point P57 (-606, 188.1567)
  point P58 (-757.0796, 200)
  point P59 (-748.021, 275)
  point P60 (-728.5398, 250)
  point P61 (-757.0796, 303.4587)
  point P62 (-695.6611, 225)
  point P63 (-651.1799, 206.6987)
  point P64 (-742.7917, 285.4273)
  point P65 (-771.0796, 303.4587)
  point P66 (-804.6796, 190.1567)
  point P67 (-564.55, 188.1567)
  point P68 (-554.95, 190.1567)
  point P69 (-254.95, 390.1567)
  dimension "d43" = 25.75
  dimension "diameter" = 100
  dimension "d8" = 26.1799
  dimension "d14" = 30
  dimension "d15" = 30
  dimension "d16" = 30
  dimension "d32" = 10.625
  dimension "d47" = 8
  dimension "d49" = 2
  dimension "d53" = 21.25
  dimension "d62" = 20.825
  dimension "d123" = 120
  dimension "d126" = 59.109
  dimension "d137" = 2
  dimension "d138" = 90
  dimension "d139" = 90
  dimension "d141" = 7.1
  dimension "d142" = 14
  dimension "d143" = 7.1
  dimension "d144" = 12
  dimension "d145" = 5
  dimension "d146" = 35
  dimension "d147" = 24
  dimension "hole" = 4
  dimension "d155" = 4
  dimension "d156" = 9
  dimension "d157" = 4
  dimension "d158" = 6
  dimension "d159" = 4
  dimension "d160" = 4
  dimension "d241" = 120.891
  dimension "d244" = 120
  dimension "d245" = 30
  dimension "d246" = 3
  dimension "d249" = 200
  dimension "d252" = 300
  dimension "d255" = 120
  dimension "d256" = 5.1701
  dimension "d259" = 0.5
  dimension "d260" = 0.5
  dimension "d261" = 120
  dimension "d262" = 120
  dimension "d264" = 5.1701
  dimension "d265" = 38
  dimension "d268" = 300
  dimension "d275" = 200
  dimension "d288" = 5.1701
  dimension "d289" = 5.1701
  dimension "d290" = 5.1701
  dimension "d291" = 5.1701
  dimension "d292" = 11.2
  dimension "d293" = 4
  dimension "d294" = 4
  dimension "d296" = 3
  dimension "d299" = 300
  dimension "d324" = 11.2
  dimension "d325" = 4
  dimension "d326" = 4
  dimension "d328" = 3
  dimension "d330" = 4
  dimension "d331" = 10
  dimension "d332" = 10
  dimension "d335" = 200
  dimension "d338" = 300
  dimension "d341" = 7.1
  dimension "d342" = 4.6
sketch "Sketch5" plane through (0, 0, 0) normal (0, 0, 1) x (1, 0, 0)
  circle A0 centre (-171.0796, 114.7323) radius 2
  arc A1 (-168.5126, 119.023) -> (-173.6466, 110.4415) centre (-171.0796, 114.7323) ccw construction
  line L0 (-173.6466, 110.4415) -> (-168.5126, 119.023) construction
  line L1 (-137.3368, 94.5451) -> (-171.0796, 114.7323) construction
  line L2 (-137.3368, 94.5451) -> (-143.2815, 84.6085) construction
  line L3 (-141.0754, 84.4005) -> (-135.6205, 93.5183) construction
  line L4 (-142.7917, 85.4273) -> (-141.0754, 84.4005) construction
  line L5 (-173.6466, 110.4415) -> (-138.1875, 89.2276) construction
  line L6 (-138.1875, 89.2276) -> (-133.0535, 97.8091)
  line L7 (-133.0535, 97.8091) -> (-168.5126, 119.023) construction
  line L8 (-159.6382, 113.7138) -> (-159.6382, 107.8873)
  line L9 (-159.6382, 107.8873) -> (-145.3456, 99.3365)
  line L10 (-133.0535, 97.8091) -> (-140.2116, 102.0915)
  line L11 (-152.4919, 103.6119) -> (-153.6918, 101.6062)
  line L12 (-140.2116, 102.0915) -> (-145.3456, 99.3365)
  line L13 (-159.6382, 113.7138) -> (-168.5126, 119.023)
  line L14 (-135.6205, 93.5183) -> (-169.3633, 113.7055) construction
  line L15 (-168.5126, 119.023) -> (-189.9664, 131.858)
  arc A2 (-189.9664, 131.858) -> (-195.1004, 123.2766) centre (-192.5334, 127.5673) ccw
  line L16 (-195.1004, 123.2766) -> (-173.6466, 110.4415)
  line L17 (-142.7917, 85.4273) -> (-141.0754, 84.4005)
  line L18 (-141.0754, 84.4005) -> (-138.1875, 89.2276)
  line L19 (-142.7917, 85.4273) -> (-142.6907, 91.9217)
  line L20 (-142.6907, 91.9217) -> (-173.6466, 110.4415)
  arc A3 (-141.0754, 84.4005) -> (-138.014, 141.6941) centre (-171.0796, 114.7323) ccw construction
  point P0 (0, 0)
  dimension "d346" = 4
  dimension "d347" = 3
  dimension "d356" = 25
  dimension "d357" = 120
extrude "Extrusion5" add sketch "Sketch3" along normal blind 3 contours L31 A16 L32 L33 L36 A8 | A7 L35 L34 L65 A15 L64 L60 L62 A102 L267 S0
properties part number "3cycloidpath"
